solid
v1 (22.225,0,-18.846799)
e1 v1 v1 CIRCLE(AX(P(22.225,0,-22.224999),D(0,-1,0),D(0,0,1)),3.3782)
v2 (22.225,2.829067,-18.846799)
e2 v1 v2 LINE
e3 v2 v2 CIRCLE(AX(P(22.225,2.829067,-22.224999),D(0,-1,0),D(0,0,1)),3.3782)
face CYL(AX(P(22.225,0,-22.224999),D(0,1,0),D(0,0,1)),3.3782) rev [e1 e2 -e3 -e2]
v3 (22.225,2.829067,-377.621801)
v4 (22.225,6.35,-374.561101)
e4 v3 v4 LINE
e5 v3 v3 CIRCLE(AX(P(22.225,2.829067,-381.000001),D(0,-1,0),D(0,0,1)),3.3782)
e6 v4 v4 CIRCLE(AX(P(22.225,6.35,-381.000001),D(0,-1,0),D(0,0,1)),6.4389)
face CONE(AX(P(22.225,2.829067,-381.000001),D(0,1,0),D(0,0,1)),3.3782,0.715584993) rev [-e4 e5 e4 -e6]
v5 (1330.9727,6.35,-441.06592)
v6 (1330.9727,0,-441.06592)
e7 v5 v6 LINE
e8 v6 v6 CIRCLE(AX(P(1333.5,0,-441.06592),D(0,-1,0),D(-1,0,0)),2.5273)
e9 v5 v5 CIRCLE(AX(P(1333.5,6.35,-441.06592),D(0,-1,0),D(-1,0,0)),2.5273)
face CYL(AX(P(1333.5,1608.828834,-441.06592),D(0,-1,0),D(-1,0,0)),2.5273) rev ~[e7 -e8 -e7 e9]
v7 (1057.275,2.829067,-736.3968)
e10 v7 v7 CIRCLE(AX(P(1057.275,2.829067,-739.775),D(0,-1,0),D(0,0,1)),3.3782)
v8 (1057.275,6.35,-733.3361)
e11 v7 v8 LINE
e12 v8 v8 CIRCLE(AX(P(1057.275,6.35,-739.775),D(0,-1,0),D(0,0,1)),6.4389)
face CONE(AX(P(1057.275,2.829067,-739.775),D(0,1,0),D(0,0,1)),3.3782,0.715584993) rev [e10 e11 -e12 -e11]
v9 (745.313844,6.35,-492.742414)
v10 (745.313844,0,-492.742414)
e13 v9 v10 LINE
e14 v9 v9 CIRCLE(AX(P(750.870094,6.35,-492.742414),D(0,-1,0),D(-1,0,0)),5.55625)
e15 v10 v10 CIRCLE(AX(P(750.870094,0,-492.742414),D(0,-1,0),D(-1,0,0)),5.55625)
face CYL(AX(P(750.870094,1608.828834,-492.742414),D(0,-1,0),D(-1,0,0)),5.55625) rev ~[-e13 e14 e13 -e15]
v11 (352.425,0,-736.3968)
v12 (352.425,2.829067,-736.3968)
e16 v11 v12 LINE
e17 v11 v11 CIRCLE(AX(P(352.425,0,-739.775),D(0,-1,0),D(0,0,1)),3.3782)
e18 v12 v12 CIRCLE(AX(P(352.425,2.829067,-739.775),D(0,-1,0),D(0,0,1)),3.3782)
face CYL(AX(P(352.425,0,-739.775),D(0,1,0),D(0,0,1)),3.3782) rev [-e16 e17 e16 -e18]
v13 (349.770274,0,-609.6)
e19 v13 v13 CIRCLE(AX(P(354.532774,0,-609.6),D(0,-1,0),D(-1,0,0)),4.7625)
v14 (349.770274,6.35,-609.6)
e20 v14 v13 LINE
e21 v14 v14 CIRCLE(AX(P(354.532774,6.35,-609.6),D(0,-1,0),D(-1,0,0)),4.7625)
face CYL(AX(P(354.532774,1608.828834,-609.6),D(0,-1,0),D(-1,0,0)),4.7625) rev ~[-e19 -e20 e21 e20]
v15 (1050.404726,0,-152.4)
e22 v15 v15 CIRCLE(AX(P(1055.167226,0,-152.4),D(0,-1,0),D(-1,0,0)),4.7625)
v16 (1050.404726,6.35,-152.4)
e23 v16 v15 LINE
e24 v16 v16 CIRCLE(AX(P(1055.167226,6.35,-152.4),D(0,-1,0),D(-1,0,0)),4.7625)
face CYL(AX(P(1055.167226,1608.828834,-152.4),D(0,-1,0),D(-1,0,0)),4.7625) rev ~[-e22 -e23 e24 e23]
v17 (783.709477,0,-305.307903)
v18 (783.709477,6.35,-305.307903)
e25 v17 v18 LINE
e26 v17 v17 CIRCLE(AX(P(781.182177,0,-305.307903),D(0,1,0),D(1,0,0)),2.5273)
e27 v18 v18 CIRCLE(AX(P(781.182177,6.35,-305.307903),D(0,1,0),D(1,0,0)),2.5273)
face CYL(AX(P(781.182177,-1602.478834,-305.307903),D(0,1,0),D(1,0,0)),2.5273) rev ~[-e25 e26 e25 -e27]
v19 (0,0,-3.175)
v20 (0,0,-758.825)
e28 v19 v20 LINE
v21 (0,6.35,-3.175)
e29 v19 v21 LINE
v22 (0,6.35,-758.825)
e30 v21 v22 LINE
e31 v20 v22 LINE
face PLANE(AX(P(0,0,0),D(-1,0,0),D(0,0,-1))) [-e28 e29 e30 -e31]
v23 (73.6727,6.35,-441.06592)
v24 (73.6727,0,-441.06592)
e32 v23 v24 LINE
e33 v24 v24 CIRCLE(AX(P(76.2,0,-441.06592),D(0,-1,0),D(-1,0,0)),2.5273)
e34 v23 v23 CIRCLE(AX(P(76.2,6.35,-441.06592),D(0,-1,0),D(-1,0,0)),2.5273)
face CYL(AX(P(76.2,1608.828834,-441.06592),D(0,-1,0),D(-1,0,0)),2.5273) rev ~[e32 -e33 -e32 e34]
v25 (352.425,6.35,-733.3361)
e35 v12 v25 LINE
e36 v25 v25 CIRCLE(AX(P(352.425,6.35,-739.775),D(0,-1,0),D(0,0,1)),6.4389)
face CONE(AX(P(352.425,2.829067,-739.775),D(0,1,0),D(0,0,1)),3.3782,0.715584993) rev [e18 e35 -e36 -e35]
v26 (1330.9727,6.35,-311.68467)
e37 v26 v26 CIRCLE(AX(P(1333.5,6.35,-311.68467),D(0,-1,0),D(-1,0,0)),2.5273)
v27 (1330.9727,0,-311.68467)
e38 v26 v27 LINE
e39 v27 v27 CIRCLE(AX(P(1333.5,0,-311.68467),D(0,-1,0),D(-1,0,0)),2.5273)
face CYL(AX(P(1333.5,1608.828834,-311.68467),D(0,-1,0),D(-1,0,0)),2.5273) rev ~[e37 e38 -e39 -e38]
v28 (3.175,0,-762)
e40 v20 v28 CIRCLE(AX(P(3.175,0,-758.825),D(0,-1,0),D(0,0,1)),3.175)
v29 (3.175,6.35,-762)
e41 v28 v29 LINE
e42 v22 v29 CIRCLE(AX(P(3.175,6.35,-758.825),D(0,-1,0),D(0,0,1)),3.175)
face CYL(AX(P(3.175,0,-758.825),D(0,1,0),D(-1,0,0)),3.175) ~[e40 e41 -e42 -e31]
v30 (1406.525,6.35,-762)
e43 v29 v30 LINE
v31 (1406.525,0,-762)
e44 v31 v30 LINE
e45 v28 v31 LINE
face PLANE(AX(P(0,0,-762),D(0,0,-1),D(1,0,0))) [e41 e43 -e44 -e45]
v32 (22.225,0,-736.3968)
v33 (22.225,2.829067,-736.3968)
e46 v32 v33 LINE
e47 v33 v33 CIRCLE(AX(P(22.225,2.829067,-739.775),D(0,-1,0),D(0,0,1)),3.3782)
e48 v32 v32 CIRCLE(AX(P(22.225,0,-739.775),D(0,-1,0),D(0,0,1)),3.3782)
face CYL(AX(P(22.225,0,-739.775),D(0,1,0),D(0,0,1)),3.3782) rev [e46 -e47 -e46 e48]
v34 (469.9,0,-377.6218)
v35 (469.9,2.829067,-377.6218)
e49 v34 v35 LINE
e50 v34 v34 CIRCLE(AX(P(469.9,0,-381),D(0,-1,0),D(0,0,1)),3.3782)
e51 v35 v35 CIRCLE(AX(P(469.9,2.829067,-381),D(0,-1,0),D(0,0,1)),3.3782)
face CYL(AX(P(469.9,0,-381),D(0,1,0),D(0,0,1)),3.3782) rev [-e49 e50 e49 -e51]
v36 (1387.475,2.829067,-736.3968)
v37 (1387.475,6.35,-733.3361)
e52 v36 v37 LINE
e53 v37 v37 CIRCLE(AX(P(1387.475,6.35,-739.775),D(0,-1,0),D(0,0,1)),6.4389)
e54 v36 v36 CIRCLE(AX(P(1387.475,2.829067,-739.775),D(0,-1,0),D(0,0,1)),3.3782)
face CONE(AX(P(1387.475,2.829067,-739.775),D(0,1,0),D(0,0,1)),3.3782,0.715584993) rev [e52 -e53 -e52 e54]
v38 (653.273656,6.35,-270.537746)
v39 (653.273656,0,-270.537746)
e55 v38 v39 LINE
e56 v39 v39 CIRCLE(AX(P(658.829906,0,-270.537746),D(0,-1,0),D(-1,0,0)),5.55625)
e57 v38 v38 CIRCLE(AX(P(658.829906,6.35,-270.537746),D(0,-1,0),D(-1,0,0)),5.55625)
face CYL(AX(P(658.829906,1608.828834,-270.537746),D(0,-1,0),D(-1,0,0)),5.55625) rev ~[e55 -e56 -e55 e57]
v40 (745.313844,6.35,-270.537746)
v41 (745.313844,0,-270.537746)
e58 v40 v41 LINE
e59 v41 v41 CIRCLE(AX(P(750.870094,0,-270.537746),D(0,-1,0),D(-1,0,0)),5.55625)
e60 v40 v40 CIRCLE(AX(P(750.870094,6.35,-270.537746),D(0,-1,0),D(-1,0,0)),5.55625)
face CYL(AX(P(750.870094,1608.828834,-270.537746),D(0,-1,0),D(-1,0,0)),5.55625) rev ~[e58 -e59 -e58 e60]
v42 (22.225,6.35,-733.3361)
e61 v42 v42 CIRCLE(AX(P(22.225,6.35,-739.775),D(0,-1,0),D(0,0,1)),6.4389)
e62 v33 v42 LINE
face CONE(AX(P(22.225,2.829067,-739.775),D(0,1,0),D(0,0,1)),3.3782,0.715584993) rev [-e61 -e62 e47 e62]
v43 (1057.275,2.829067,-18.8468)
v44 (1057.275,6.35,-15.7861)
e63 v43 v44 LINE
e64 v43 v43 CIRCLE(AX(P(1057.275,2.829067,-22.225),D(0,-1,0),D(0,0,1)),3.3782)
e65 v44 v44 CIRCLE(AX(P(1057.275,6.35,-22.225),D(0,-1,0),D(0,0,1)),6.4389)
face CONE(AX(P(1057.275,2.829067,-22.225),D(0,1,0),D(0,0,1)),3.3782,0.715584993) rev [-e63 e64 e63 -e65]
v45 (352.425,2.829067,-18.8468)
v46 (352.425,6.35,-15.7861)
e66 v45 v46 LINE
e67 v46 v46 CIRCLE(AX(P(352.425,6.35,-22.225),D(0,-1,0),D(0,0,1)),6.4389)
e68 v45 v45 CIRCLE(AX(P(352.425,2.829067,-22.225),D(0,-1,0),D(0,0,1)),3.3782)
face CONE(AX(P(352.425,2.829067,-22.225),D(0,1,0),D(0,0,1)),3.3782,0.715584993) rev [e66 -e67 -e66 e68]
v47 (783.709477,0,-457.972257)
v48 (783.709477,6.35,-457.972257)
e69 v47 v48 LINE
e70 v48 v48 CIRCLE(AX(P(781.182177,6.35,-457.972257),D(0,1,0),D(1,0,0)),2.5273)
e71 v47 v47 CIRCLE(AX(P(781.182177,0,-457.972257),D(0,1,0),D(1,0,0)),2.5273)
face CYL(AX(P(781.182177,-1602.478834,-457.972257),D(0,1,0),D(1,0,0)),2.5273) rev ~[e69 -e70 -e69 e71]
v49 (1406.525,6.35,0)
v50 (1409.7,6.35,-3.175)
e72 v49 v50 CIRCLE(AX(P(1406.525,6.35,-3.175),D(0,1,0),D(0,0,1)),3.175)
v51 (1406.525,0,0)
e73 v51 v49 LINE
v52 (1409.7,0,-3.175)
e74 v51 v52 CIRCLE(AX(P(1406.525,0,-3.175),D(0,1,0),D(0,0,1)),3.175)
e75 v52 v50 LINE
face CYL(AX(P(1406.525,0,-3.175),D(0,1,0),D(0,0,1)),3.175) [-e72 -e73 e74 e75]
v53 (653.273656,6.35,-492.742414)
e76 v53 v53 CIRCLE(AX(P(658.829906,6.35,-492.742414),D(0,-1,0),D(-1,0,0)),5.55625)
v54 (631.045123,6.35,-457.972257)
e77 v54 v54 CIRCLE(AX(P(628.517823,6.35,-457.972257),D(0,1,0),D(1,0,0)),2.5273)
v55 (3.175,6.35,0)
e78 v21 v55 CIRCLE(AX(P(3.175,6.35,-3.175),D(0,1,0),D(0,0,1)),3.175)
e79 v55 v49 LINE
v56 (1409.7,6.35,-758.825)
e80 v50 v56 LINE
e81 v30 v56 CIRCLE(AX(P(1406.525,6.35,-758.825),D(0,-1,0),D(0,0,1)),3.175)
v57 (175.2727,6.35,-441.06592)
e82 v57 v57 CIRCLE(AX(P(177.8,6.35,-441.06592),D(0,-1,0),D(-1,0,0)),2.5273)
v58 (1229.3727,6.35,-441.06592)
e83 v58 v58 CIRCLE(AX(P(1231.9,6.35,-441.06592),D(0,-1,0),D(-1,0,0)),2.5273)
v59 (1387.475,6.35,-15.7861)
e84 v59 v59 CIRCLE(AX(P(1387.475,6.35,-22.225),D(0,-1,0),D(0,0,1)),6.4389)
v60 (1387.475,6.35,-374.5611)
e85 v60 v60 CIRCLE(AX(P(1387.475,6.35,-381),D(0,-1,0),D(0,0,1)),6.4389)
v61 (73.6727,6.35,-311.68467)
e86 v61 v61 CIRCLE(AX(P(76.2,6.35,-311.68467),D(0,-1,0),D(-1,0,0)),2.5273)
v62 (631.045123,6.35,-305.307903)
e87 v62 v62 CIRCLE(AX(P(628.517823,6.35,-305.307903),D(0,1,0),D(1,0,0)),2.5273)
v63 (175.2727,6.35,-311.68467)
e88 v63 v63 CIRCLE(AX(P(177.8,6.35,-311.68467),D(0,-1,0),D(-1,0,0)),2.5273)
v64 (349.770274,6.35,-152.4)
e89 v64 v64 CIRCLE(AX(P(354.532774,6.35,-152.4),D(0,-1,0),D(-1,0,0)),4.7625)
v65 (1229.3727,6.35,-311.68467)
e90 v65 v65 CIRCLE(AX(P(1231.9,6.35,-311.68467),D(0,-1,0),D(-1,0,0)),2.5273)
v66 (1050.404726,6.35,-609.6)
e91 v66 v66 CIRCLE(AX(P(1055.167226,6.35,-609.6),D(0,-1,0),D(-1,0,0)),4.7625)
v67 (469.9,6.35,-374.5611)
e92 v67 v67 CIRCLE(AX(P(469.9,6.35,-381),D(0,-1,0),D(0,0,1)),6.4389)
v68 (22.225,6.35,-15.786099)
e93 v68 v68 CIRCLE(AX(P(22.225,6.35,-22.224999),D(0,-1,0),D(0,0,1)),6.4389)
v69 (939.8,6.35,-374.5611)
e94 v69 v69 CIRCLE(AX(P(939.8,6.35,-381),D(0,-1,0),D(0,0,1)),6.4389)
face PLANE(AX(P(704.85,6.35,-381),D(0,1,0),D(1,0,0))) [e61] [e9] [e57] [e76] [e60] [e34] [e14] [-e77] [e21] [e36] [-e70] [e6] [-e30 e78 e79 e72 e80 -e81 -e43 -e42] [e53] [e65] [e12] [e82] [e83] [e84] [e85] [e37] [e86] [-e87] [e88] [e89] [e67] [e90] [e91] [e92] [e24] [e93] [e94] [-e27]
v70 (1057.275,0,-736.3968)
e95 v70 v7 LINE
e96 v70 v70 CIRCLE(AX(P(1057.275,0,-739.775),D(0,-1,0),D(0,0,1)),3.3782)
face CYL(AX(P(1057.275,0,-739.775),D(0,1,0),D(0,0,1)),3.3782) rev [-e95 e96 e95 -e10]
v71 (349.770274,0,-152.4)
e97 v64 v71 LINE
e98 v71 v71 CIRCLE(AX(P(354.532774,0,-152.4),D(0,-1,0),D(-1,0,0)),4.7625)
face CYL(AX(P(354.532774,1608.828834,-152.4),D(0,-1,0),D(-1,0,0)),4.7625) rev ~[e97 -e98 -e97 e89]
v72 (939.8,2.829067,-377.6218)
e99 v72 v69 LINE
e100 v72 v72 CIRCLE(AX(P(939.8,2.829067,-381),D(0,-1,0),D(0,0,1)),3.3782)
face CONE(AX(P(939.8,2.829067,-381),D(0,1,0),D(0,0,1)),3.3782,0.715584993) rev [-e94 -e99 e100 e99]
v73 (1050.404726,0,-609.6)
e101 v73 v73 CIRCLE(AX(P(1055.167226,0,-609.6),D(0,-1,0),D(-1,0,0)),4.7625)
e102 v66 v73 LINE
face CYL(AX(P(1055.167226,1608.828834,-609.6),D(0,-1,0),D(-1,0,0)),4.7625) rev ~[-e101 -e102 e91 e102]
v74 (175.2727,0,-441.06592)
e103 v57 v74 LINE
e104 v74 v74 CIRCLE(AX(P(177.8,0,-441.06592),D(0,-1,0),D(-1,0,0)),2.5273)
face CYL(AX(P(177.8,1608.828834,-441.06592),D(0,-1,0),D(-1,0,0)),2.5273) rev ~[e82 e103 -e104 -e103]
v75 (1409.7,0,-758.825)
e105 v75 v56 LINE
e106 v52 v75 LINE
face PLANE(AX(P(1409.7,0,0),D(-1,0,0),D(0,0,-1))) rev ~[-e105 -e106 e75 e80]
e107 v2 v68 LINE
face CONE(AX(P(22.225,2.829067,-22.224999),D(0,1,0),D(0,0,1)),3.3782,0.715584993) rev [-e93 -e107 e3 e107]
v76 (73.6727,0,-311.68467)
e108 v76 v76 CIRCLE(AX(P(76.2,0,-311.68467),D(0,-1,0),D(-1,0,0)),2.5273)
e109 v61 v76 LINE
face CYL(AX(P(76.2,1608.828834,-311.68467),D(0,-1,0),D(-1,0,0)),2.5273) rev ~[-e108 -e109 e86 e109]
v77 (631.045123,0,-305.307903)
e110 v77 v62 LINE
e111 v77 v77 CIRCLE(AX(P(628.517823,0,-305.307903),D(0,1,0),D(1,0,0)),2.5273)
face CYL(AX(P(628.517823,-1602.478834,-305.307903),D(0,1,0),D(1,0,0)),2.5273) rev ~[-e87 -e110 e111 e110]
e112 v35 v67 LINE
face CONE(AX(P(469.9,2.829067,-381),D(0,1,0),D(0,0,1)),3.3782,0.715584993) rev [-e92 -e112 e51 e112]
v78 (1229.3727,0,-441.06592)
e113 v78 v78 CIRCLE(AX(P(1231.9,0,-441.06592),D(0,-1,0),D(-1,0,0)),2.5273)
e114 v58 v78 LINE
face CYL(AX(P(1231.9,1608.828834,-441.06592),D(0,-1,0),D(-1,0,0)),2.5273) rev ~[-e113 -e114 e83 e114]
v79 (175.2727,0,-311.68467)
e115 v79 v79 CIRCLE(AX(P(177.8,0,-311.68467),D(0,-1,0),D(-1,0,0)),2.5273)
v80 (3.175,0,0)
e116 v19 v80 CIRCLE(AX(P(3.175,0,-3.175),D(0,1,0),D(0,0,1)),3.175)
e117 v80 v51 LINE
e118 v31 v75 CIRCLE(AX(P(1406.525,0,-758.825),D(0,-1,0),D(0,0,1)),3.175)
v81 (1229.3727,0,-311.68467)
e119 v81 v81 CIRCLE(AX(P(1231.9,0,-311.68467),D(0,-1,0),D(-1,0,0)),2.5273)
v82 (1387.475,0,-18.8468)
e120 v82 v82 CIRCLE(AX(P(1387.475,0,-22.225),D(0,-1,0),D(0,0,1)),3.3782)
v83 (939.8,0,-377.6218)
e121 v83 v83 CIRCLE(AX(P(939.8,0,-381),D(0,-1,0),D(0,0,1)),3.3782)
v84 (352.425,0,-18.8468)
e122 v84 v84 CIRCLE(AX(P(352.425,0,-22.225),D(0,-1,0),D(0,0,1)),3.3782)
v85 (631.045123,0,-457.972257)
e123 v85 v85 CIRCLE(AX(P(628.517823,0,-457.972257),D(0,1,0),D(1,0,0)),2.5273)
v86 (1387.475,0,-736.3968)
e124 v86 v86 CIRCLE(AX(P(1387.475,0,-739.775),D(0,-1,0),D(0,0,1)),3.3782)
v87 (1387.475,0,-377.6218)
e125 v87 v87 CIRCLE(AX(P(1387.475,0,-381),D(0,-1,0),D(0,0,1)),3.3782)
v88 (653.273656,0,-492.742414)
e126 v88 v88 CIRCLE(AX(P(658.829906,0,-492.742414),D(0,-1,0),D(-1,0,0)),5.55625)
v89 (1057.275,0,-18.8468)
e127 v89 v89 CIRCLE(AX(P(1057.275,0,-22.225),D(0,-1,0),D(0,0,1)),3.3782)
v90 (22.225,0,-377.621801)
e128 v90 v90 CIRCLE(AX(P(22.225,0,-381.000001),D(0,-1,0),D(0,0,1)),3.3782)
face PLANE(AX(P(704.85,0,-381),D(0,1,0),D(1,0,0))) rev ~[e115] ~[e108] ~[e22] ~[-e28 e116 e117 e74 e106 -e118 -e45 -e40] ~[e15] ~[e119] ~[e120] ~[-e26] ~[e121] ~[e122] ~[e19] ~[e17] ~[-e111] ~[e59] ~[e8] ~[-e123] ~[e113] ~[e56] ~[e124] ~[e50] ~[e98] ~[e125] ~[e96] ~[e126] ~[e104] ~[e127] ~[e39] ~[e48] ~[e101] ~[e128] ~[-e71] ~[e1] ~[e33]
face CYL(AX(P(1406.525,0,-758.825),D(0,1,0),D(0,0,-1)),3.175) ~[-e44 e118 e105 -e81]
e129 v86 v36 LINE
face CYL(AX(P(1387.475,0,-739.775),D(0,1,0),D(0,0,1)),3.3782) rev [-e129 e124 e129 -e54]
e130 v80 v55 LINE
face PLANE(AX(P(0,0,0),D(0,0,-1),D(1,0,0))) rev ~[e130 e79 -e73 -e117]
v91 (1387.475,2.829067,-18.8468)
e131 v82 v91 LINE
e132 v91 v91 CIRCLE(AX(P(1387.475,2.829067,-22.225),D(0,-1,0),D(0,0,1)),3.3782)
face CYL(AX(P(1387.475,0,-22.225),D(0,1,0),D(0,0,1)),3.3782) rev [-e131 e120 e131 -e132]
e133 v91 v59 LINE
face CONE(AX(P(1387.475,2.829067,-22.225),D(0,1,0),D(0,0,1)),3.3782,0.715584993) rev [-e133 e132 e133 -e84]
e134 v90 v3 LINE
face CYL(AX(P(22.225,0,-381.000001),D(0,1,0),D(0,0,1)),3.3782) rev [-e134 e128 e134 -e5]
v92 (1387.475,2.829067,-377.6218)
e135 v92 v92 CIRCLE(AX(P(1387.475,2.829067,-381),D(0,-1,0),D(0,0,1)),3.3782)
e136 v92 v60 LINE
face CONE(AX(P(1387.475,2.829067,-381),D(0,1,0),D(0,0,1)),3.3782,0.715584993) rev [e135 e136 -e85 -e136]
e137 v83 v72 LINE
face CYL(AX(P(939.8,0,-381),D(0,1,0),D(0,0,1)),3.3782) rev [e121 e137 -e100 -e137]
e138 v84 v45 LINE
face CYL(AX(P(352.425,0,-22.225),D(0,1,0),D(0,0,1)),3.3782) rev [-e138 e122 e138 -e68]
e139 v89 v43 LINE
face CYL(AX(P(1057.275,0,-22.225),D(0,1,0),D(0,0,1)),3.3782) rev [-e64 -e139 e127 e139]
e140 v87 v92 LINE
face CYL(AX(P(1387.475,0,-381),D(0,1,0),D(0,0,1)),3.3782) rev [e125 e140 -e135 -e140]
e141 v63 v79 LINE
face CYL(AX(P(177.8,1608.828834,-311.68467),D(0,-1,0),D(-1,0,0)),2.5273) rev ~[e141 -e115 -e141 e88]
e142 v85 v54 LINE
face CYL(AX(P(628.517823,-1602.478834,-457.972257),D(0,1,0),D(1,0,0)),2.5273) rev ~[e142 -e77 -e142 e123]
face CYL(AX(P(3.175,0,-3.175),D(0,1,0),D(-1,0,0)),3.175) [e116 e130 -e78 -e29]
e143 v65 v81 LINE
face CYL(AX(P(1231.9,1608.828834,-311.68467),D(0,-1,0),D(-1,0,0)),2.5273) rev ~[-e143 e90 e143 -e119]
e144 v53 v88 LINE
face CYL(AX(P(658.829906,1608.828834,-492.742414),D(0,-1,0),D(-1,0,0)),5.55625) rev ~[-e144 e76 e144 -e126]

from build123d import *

# Parameters (mm, degrees)
SKETCH1_W                                     = 1409.7
SKETCH1_H                                     = 762
BOSS_EXTRUDE1_DEPTH                           = 6.35
CSK_FOR_1_4_FLAT_HEAD_MACHINE_SCREW1_AT_COUNT = 2
CSK_FOR_1_4_FLAT_HEAD_MACHINE_SCREW1_AT_PITCH = 330.2
CSK_FOR_1_4_FLAT_HEAD_MACHINE_SCREW1_2_COUNT  = 2
CSK_FOR_1_4_FLAT_HEAD_MACHINE_SCREW1_2_PITCH  = 1035.05
CSK_FOR_1_4_FLAT_HEAD_MACHINE_SCREW1_3_COUNT  = 2
CSK_FOR_1_4_FLAT_HEAD_MACHINE_SCREW1_3_PITCH  = 1365.25
CSK_FOR_1_4_FLAT_HEAD_MACHINE_SCREW1_4_COUNT  = 2
CSK_FOR_1_4_FLAT_HEAD_MACHINE_SCREW1_4_PITCH  = 717.55
CSK_FOR_1_4_FLAT_HEAD_MACHINE_SCREW1_5_COUNT  = 2
CSK_FOR_1_4_FLAT_HEAD_MACHINE_SCREW1_5_PITCH  = 573.700624237
CSK_FOR_1_4_FLAT_HEAD_MACHINE_SCREW1_6_COUNT  = 2
CSK_FOR_1_4_FLAT_HEAD_MACHINE_SCREW1_6_PITCH  = 789.879764584
CSK_FOR_1_4_FLAT_HEAD_MACHINE_SCREW1_7_COUNT  = 2
CSK_FOR_1_4_FLAT_HEAD_MACHINE_SCREW1_7_PITCH  = 985.222503422
CSK_FOR_1_4_FLAT_HEAD_MACHINE_SCREW1_8_COUNT  = 2
CSK_FOR_1_4_FLAT_HEAD_MACHINE_SCREW1_8_PITCH  = 1259.446904399
CSK_FOR_1_4_FLAT_HEAD_MACHINE_SCREW1_9_COUNT  = 2
CSK_FOR_1_4_FLAT_HEAD_MACHINE_SCREW1_9_PITCH  = 1542.331211186
CSK_FOR_1_4_FLAT_HEAD_MACHINE_SCREW1_10_COUNT = 2
CSK_FOR_1_4_FLAT_HEAD_MACHINE_SCREW1_10_PITCH = 358.775
CSK_FOR_1_4_FLAT_HEAD_MACHINE_SCREW1_11_COUNT = 2
CSK_FOR_1_4_FLAT_HEAD_MACHINE_SCREW1_11_PITCH = 1411.6044287
F_8_0_199_DIAMETER_HOLE2_D                    = 5.0546
F_7_16_0_4375_DIAMETER_HOLE1_D                = 11.1125
F_8_0_199_DIAMETER_HOLE1_D                    = 5.0546
F_3_8_0_375_DIAMETER_HOLE1_D                  = 9.525
FILLET1_R                                     = 3.175


with BuildPart() as part:
    # Sketch1 → Boss-Extrude1 (new body)
    with BuildSketch(Plane(origin=(0, 0, 0), x_dir=(1, 0, 0), z_dir=(0, 1, 0))):
        with Locations((704.85, 381)):
            Rectangle(SKETCH1_W, SKETCH1_H)
    extrude(amount=BOSS_EXTRUDE1_DEPTH)

    # Sketch5 → CSK for 1/4 Flat Head Machine Screw1 (revolve, cut)
    with BuildSketch(Plane(origin=(1387.475, 6.35, -739.775), x_dir=(0, 0, 1), z_dir=(1, 0, 0))):
        Polygon((0, 0), (0, 6.35), (3.3782, 6.35), (3.3782, 3.520932584), (6.4389, 0), align=None)
    csk_for_1_4_flat_head_machine_screw1 = revolve(axis=Axis((1387.475, 12.7, -739.775), (0, -1, 0)), mode=Mode.SUBTRACT)

    # CSK for 1/4 Flat Head Machine Screw1 at: CSK for 1/4 Flat Head Machine Screw1 ×2
    with Locations(*[(-i * CSK_FOR_1_4_FLAT_HEAD_MACHINE_SCREW1_AT_PITCH, 0, 0) for i in range(1, CSK_FOR_1_4_FLAT_HEAD_MACHINE_SCREW1_AT_COUNT)]):
        add(csk_for_1_4_flat_head_machine_screw1, mode=Mode.SUBTRACT)

    # CSK for 1_4 Flat Head Machine Screw1 2: CSK for 1/4 Flat Head Machine Screw1 ×2
    with Locations(*[(-i * CSK_FOR_1_4_FLAT_HEAD_MACHINE_SCREW1_2_PITCH, 0, 0) for i in range(1, CSK_FOR_1_4_FLAT_HEAD_MACHINE_SCREW1_2_COUNT)]):
        add(csk_for_1_4_flat_head_machine_screw1, mode=Mode.SUBTRACT)

    # CSK for 1_4 Flat Head Machine Screw1 3: CSK for 1/4 Flat Head Machine Screw1 ×2
    with Locations(*[(-i * CSK_FOR_1_4_FLAT_HEAD_MACHINE_SCREW1_3_PITCH, 0, 0) for i in range(1, CSK_FOR_1_4_FLAT_HEAD_MACHINE_SCREW1_3_COUNT)]):
        add(csk_for_1_4_flat_head_machine_screw1, mode=Mode.SUBTRACT)

    # CSK for 1_4 Flat Head Machine Screw1 4: CSK for 1/4 Flat Head Machine Screw1 ×2
    with Locations(*[(0, 0, i * CSK_FOR_1_4_FLAT_HEAD_MACHINE_SCREW1_4_PITCH) for i in range(1, CSK_FOR_1_4_FLAT_HEAD_MACHINE_SCREW1_4_COUNT)]):
        add(csk_for_1_4_flat_head_machine_screw1, mode=Mode.SUBTRACT)

    # CSK for 1_4 Flat Head Machine Screw1 5: CSK for 1/4 Flat Head Machine Screw1 ×2
    with Locations(*[Vector(-0.780328591, 0, 0.625369722) * (i * CSK_FOR_1_4_FLAT_HEAD_MACHINE_SCREW1_5_PITCH) for i in range(1, CSK_FOR_1_4_FLAT_HEAD_MACHINE_SCREW1_5_COUNT)]):
        add(csk_for_1_4_flat_head_machine_screw1, mode=Mode.SUBTRACT)

    # CSK for 1_4 Flat Head Machine Screw1 6: CSK for 1/4 Flat Head Machine Screw1 ×2
    with Locations(*[Vector(-0.418038308, 0, 0.908429399) * (i * CSK_FOR_1_4_FLAT_HEAD_MACHINE_SCREW1_6_PITCH) for i in range(1, CSK_FOR_1_4_FLAT_HEAD_MACHINE_SCREW1_6_COUNT)]):
        add(csk_for_1_4_flat_head_machine_screw1, mode=Mode.SUBTRACT)

    # CSK for 1_4 Flat Head Machine Screw1 7: CSK for 1/4 Flat Head Machine Screw1 ×2
    with Locations(*[Vector(-0.931337842, 0, 0.364156319) * (i * CSK_FOR_1_4_FLAT_HEAD_MACHINE_SCREW1_7_PITCH) for i in range(1, CSK_FOR_1_4_FLAT_HEAD_MACHINE_SCREW1_7_COUNT)]):
        add(csk_for_1_4_flat_head_machine_screw1, mode=Mode.SUBTRACT)

    # CSK for 1_4 Flat Head Machine Screw1 8: CSK for 1/4 Flat Head Machine Screw1 ×2
    with Locations(*[Vector(-0.821829008, 0, 0.56973422) * (i * CSK_FOR_1_4_FLAT_HEAD_MACHINE_SCREW1_8_PITCH) for i in range(1, CSK_FOR_1_4_FLAT_HEAD_MACHINE_SCREW1_8_COUNT)]):
        add(csk_for_1_4_flat_head_machine_screw1, mode=Mode.SUBTRACT)

    # CSK for 1_4 Flat Head Machine Screw1 9: CSK for 1/4 Flat Head Machine Screw1 ×2
    with Locations(*[Vector(-0.885186003, 0, 0.465237295) * (i * CSK_FOR_1_4_FLAT_HEAD_MACHINE_SCREW1_9_PITCH) for i in range(1, CSK_FOR_1_4_FLAT_HEAD_MACHINE_SCREW1_9_COUNT)]):
        add(csk_for_1_4_flat_head_machine_screw1, mode=Mode.SUBTRACT)

    # CSK for 1_4 Flat Head Machine Screw1 10: CSK for 1/4 Flat Head Machine Screw1 ×2
    with Locations(*[(0, 0, i * CSK_FOR_1_4_FLAT_HEAD_MACHINE_SCREW1_10_PITCH) for i in range(1, CSK_FOR_1_4_FLAT_HEAD_MACHINE_SCREW1_10_COUNT)]):
        add(csk_for_1_4_flat_head_machine_screw1, mode=Mode.SUBTRACT)

    # CSK for 1_4 Flat Head Machine Screw1 11: CSK for 1/4 Flat Head Machine Screw1 ×2
    with Locations(*[Vector(-0.967161885, 0, 0.254161146) * (i * CSK_FOR_1_4_FLAT_HEAD_MACHINE_SCREW1_11_PITCH) for i in range(1, CSK_FOR_1_4_FLAT_HEAD_MACHINE_SCREW1_11_COUNT)]):
        add(csk_for_1_4_flat_head_machine_screw1, mode=Mode.SUBTRACT)

    # #8 (0.199) Diameter Hole2 (through all)
    with Locations(Plane(origin=(0, 0, 0), x_dir=(-1, 0, 0), z_dir=(0, -1, 0))):
        with Locations((-628.517822971, 305.307902971), (-628.517822971, 457.972257029), (-781.182177029, 305.307902971), (-781.182177029, 457.972257029)):
            Hole(F_8_0_199_DIAMETER_HOLE2_D / 2)

    # 7/16 (0.4375) Diameter Hole1 (through all)
    with Locations(Plane(origin=(0, 6.35, 0), x_dir=(1, 0, 0), z_dir=(0, 1, 0))):
        with Locations((658.829906352, 492.742414226), (750.870093648, 270.537745774), (658.829906352, 270.537745774), (750.870093648, 492.742414226)):
            Hole(F_7_16_0_4375_DIAMETER_HOLE1_D / 2)

    # #8 (0.199) Diameter Hole1 (through all)
    with Locations(Plane(origin=(0, 6.35, 0), x_dir=(1, 0, 0), z_dir=(0, 1, 0))):
        with Locations((1333.5, 311.68467), (1231.9, 311.68467), (1231.9, 441.06592), (1333.5, 441.06592), (76.2, 441.06592), (177.8, 441.06592), (177.8, 311.68467), (76.2, 311.68467)):
            Hole(F_8_0_199_DIAMETER_HOLE1_D / 2)

    # 3/8 (0.375) Diameter Hole1 (through all)
    with Locations(Plane(origin=(0, 6.35, 0), x_dir=(1, 0, 0), z_dir=(0, 1, 0))):
        with Locations((354.532774062, 152.4), (354.532774062, 609.6), (1055.167225938, 609.6), (1055.167225938, 152.4)):
            Hole(F_3_8_0_375_DIAMETER_HOLE1_D / 2)

    # Fillet1
    fillet1_edges = [part.edges().sort_by_distance(p)[0] for p in [
        (0, 3.175, -762),
        (1409.7, 3.175, -762),
        (1409.7, 3.175, 0),
        (0, 3.175, 0),
    ]]
    fillet(fillet1_edges, radius=FILLET1_R)


solid = part.part
